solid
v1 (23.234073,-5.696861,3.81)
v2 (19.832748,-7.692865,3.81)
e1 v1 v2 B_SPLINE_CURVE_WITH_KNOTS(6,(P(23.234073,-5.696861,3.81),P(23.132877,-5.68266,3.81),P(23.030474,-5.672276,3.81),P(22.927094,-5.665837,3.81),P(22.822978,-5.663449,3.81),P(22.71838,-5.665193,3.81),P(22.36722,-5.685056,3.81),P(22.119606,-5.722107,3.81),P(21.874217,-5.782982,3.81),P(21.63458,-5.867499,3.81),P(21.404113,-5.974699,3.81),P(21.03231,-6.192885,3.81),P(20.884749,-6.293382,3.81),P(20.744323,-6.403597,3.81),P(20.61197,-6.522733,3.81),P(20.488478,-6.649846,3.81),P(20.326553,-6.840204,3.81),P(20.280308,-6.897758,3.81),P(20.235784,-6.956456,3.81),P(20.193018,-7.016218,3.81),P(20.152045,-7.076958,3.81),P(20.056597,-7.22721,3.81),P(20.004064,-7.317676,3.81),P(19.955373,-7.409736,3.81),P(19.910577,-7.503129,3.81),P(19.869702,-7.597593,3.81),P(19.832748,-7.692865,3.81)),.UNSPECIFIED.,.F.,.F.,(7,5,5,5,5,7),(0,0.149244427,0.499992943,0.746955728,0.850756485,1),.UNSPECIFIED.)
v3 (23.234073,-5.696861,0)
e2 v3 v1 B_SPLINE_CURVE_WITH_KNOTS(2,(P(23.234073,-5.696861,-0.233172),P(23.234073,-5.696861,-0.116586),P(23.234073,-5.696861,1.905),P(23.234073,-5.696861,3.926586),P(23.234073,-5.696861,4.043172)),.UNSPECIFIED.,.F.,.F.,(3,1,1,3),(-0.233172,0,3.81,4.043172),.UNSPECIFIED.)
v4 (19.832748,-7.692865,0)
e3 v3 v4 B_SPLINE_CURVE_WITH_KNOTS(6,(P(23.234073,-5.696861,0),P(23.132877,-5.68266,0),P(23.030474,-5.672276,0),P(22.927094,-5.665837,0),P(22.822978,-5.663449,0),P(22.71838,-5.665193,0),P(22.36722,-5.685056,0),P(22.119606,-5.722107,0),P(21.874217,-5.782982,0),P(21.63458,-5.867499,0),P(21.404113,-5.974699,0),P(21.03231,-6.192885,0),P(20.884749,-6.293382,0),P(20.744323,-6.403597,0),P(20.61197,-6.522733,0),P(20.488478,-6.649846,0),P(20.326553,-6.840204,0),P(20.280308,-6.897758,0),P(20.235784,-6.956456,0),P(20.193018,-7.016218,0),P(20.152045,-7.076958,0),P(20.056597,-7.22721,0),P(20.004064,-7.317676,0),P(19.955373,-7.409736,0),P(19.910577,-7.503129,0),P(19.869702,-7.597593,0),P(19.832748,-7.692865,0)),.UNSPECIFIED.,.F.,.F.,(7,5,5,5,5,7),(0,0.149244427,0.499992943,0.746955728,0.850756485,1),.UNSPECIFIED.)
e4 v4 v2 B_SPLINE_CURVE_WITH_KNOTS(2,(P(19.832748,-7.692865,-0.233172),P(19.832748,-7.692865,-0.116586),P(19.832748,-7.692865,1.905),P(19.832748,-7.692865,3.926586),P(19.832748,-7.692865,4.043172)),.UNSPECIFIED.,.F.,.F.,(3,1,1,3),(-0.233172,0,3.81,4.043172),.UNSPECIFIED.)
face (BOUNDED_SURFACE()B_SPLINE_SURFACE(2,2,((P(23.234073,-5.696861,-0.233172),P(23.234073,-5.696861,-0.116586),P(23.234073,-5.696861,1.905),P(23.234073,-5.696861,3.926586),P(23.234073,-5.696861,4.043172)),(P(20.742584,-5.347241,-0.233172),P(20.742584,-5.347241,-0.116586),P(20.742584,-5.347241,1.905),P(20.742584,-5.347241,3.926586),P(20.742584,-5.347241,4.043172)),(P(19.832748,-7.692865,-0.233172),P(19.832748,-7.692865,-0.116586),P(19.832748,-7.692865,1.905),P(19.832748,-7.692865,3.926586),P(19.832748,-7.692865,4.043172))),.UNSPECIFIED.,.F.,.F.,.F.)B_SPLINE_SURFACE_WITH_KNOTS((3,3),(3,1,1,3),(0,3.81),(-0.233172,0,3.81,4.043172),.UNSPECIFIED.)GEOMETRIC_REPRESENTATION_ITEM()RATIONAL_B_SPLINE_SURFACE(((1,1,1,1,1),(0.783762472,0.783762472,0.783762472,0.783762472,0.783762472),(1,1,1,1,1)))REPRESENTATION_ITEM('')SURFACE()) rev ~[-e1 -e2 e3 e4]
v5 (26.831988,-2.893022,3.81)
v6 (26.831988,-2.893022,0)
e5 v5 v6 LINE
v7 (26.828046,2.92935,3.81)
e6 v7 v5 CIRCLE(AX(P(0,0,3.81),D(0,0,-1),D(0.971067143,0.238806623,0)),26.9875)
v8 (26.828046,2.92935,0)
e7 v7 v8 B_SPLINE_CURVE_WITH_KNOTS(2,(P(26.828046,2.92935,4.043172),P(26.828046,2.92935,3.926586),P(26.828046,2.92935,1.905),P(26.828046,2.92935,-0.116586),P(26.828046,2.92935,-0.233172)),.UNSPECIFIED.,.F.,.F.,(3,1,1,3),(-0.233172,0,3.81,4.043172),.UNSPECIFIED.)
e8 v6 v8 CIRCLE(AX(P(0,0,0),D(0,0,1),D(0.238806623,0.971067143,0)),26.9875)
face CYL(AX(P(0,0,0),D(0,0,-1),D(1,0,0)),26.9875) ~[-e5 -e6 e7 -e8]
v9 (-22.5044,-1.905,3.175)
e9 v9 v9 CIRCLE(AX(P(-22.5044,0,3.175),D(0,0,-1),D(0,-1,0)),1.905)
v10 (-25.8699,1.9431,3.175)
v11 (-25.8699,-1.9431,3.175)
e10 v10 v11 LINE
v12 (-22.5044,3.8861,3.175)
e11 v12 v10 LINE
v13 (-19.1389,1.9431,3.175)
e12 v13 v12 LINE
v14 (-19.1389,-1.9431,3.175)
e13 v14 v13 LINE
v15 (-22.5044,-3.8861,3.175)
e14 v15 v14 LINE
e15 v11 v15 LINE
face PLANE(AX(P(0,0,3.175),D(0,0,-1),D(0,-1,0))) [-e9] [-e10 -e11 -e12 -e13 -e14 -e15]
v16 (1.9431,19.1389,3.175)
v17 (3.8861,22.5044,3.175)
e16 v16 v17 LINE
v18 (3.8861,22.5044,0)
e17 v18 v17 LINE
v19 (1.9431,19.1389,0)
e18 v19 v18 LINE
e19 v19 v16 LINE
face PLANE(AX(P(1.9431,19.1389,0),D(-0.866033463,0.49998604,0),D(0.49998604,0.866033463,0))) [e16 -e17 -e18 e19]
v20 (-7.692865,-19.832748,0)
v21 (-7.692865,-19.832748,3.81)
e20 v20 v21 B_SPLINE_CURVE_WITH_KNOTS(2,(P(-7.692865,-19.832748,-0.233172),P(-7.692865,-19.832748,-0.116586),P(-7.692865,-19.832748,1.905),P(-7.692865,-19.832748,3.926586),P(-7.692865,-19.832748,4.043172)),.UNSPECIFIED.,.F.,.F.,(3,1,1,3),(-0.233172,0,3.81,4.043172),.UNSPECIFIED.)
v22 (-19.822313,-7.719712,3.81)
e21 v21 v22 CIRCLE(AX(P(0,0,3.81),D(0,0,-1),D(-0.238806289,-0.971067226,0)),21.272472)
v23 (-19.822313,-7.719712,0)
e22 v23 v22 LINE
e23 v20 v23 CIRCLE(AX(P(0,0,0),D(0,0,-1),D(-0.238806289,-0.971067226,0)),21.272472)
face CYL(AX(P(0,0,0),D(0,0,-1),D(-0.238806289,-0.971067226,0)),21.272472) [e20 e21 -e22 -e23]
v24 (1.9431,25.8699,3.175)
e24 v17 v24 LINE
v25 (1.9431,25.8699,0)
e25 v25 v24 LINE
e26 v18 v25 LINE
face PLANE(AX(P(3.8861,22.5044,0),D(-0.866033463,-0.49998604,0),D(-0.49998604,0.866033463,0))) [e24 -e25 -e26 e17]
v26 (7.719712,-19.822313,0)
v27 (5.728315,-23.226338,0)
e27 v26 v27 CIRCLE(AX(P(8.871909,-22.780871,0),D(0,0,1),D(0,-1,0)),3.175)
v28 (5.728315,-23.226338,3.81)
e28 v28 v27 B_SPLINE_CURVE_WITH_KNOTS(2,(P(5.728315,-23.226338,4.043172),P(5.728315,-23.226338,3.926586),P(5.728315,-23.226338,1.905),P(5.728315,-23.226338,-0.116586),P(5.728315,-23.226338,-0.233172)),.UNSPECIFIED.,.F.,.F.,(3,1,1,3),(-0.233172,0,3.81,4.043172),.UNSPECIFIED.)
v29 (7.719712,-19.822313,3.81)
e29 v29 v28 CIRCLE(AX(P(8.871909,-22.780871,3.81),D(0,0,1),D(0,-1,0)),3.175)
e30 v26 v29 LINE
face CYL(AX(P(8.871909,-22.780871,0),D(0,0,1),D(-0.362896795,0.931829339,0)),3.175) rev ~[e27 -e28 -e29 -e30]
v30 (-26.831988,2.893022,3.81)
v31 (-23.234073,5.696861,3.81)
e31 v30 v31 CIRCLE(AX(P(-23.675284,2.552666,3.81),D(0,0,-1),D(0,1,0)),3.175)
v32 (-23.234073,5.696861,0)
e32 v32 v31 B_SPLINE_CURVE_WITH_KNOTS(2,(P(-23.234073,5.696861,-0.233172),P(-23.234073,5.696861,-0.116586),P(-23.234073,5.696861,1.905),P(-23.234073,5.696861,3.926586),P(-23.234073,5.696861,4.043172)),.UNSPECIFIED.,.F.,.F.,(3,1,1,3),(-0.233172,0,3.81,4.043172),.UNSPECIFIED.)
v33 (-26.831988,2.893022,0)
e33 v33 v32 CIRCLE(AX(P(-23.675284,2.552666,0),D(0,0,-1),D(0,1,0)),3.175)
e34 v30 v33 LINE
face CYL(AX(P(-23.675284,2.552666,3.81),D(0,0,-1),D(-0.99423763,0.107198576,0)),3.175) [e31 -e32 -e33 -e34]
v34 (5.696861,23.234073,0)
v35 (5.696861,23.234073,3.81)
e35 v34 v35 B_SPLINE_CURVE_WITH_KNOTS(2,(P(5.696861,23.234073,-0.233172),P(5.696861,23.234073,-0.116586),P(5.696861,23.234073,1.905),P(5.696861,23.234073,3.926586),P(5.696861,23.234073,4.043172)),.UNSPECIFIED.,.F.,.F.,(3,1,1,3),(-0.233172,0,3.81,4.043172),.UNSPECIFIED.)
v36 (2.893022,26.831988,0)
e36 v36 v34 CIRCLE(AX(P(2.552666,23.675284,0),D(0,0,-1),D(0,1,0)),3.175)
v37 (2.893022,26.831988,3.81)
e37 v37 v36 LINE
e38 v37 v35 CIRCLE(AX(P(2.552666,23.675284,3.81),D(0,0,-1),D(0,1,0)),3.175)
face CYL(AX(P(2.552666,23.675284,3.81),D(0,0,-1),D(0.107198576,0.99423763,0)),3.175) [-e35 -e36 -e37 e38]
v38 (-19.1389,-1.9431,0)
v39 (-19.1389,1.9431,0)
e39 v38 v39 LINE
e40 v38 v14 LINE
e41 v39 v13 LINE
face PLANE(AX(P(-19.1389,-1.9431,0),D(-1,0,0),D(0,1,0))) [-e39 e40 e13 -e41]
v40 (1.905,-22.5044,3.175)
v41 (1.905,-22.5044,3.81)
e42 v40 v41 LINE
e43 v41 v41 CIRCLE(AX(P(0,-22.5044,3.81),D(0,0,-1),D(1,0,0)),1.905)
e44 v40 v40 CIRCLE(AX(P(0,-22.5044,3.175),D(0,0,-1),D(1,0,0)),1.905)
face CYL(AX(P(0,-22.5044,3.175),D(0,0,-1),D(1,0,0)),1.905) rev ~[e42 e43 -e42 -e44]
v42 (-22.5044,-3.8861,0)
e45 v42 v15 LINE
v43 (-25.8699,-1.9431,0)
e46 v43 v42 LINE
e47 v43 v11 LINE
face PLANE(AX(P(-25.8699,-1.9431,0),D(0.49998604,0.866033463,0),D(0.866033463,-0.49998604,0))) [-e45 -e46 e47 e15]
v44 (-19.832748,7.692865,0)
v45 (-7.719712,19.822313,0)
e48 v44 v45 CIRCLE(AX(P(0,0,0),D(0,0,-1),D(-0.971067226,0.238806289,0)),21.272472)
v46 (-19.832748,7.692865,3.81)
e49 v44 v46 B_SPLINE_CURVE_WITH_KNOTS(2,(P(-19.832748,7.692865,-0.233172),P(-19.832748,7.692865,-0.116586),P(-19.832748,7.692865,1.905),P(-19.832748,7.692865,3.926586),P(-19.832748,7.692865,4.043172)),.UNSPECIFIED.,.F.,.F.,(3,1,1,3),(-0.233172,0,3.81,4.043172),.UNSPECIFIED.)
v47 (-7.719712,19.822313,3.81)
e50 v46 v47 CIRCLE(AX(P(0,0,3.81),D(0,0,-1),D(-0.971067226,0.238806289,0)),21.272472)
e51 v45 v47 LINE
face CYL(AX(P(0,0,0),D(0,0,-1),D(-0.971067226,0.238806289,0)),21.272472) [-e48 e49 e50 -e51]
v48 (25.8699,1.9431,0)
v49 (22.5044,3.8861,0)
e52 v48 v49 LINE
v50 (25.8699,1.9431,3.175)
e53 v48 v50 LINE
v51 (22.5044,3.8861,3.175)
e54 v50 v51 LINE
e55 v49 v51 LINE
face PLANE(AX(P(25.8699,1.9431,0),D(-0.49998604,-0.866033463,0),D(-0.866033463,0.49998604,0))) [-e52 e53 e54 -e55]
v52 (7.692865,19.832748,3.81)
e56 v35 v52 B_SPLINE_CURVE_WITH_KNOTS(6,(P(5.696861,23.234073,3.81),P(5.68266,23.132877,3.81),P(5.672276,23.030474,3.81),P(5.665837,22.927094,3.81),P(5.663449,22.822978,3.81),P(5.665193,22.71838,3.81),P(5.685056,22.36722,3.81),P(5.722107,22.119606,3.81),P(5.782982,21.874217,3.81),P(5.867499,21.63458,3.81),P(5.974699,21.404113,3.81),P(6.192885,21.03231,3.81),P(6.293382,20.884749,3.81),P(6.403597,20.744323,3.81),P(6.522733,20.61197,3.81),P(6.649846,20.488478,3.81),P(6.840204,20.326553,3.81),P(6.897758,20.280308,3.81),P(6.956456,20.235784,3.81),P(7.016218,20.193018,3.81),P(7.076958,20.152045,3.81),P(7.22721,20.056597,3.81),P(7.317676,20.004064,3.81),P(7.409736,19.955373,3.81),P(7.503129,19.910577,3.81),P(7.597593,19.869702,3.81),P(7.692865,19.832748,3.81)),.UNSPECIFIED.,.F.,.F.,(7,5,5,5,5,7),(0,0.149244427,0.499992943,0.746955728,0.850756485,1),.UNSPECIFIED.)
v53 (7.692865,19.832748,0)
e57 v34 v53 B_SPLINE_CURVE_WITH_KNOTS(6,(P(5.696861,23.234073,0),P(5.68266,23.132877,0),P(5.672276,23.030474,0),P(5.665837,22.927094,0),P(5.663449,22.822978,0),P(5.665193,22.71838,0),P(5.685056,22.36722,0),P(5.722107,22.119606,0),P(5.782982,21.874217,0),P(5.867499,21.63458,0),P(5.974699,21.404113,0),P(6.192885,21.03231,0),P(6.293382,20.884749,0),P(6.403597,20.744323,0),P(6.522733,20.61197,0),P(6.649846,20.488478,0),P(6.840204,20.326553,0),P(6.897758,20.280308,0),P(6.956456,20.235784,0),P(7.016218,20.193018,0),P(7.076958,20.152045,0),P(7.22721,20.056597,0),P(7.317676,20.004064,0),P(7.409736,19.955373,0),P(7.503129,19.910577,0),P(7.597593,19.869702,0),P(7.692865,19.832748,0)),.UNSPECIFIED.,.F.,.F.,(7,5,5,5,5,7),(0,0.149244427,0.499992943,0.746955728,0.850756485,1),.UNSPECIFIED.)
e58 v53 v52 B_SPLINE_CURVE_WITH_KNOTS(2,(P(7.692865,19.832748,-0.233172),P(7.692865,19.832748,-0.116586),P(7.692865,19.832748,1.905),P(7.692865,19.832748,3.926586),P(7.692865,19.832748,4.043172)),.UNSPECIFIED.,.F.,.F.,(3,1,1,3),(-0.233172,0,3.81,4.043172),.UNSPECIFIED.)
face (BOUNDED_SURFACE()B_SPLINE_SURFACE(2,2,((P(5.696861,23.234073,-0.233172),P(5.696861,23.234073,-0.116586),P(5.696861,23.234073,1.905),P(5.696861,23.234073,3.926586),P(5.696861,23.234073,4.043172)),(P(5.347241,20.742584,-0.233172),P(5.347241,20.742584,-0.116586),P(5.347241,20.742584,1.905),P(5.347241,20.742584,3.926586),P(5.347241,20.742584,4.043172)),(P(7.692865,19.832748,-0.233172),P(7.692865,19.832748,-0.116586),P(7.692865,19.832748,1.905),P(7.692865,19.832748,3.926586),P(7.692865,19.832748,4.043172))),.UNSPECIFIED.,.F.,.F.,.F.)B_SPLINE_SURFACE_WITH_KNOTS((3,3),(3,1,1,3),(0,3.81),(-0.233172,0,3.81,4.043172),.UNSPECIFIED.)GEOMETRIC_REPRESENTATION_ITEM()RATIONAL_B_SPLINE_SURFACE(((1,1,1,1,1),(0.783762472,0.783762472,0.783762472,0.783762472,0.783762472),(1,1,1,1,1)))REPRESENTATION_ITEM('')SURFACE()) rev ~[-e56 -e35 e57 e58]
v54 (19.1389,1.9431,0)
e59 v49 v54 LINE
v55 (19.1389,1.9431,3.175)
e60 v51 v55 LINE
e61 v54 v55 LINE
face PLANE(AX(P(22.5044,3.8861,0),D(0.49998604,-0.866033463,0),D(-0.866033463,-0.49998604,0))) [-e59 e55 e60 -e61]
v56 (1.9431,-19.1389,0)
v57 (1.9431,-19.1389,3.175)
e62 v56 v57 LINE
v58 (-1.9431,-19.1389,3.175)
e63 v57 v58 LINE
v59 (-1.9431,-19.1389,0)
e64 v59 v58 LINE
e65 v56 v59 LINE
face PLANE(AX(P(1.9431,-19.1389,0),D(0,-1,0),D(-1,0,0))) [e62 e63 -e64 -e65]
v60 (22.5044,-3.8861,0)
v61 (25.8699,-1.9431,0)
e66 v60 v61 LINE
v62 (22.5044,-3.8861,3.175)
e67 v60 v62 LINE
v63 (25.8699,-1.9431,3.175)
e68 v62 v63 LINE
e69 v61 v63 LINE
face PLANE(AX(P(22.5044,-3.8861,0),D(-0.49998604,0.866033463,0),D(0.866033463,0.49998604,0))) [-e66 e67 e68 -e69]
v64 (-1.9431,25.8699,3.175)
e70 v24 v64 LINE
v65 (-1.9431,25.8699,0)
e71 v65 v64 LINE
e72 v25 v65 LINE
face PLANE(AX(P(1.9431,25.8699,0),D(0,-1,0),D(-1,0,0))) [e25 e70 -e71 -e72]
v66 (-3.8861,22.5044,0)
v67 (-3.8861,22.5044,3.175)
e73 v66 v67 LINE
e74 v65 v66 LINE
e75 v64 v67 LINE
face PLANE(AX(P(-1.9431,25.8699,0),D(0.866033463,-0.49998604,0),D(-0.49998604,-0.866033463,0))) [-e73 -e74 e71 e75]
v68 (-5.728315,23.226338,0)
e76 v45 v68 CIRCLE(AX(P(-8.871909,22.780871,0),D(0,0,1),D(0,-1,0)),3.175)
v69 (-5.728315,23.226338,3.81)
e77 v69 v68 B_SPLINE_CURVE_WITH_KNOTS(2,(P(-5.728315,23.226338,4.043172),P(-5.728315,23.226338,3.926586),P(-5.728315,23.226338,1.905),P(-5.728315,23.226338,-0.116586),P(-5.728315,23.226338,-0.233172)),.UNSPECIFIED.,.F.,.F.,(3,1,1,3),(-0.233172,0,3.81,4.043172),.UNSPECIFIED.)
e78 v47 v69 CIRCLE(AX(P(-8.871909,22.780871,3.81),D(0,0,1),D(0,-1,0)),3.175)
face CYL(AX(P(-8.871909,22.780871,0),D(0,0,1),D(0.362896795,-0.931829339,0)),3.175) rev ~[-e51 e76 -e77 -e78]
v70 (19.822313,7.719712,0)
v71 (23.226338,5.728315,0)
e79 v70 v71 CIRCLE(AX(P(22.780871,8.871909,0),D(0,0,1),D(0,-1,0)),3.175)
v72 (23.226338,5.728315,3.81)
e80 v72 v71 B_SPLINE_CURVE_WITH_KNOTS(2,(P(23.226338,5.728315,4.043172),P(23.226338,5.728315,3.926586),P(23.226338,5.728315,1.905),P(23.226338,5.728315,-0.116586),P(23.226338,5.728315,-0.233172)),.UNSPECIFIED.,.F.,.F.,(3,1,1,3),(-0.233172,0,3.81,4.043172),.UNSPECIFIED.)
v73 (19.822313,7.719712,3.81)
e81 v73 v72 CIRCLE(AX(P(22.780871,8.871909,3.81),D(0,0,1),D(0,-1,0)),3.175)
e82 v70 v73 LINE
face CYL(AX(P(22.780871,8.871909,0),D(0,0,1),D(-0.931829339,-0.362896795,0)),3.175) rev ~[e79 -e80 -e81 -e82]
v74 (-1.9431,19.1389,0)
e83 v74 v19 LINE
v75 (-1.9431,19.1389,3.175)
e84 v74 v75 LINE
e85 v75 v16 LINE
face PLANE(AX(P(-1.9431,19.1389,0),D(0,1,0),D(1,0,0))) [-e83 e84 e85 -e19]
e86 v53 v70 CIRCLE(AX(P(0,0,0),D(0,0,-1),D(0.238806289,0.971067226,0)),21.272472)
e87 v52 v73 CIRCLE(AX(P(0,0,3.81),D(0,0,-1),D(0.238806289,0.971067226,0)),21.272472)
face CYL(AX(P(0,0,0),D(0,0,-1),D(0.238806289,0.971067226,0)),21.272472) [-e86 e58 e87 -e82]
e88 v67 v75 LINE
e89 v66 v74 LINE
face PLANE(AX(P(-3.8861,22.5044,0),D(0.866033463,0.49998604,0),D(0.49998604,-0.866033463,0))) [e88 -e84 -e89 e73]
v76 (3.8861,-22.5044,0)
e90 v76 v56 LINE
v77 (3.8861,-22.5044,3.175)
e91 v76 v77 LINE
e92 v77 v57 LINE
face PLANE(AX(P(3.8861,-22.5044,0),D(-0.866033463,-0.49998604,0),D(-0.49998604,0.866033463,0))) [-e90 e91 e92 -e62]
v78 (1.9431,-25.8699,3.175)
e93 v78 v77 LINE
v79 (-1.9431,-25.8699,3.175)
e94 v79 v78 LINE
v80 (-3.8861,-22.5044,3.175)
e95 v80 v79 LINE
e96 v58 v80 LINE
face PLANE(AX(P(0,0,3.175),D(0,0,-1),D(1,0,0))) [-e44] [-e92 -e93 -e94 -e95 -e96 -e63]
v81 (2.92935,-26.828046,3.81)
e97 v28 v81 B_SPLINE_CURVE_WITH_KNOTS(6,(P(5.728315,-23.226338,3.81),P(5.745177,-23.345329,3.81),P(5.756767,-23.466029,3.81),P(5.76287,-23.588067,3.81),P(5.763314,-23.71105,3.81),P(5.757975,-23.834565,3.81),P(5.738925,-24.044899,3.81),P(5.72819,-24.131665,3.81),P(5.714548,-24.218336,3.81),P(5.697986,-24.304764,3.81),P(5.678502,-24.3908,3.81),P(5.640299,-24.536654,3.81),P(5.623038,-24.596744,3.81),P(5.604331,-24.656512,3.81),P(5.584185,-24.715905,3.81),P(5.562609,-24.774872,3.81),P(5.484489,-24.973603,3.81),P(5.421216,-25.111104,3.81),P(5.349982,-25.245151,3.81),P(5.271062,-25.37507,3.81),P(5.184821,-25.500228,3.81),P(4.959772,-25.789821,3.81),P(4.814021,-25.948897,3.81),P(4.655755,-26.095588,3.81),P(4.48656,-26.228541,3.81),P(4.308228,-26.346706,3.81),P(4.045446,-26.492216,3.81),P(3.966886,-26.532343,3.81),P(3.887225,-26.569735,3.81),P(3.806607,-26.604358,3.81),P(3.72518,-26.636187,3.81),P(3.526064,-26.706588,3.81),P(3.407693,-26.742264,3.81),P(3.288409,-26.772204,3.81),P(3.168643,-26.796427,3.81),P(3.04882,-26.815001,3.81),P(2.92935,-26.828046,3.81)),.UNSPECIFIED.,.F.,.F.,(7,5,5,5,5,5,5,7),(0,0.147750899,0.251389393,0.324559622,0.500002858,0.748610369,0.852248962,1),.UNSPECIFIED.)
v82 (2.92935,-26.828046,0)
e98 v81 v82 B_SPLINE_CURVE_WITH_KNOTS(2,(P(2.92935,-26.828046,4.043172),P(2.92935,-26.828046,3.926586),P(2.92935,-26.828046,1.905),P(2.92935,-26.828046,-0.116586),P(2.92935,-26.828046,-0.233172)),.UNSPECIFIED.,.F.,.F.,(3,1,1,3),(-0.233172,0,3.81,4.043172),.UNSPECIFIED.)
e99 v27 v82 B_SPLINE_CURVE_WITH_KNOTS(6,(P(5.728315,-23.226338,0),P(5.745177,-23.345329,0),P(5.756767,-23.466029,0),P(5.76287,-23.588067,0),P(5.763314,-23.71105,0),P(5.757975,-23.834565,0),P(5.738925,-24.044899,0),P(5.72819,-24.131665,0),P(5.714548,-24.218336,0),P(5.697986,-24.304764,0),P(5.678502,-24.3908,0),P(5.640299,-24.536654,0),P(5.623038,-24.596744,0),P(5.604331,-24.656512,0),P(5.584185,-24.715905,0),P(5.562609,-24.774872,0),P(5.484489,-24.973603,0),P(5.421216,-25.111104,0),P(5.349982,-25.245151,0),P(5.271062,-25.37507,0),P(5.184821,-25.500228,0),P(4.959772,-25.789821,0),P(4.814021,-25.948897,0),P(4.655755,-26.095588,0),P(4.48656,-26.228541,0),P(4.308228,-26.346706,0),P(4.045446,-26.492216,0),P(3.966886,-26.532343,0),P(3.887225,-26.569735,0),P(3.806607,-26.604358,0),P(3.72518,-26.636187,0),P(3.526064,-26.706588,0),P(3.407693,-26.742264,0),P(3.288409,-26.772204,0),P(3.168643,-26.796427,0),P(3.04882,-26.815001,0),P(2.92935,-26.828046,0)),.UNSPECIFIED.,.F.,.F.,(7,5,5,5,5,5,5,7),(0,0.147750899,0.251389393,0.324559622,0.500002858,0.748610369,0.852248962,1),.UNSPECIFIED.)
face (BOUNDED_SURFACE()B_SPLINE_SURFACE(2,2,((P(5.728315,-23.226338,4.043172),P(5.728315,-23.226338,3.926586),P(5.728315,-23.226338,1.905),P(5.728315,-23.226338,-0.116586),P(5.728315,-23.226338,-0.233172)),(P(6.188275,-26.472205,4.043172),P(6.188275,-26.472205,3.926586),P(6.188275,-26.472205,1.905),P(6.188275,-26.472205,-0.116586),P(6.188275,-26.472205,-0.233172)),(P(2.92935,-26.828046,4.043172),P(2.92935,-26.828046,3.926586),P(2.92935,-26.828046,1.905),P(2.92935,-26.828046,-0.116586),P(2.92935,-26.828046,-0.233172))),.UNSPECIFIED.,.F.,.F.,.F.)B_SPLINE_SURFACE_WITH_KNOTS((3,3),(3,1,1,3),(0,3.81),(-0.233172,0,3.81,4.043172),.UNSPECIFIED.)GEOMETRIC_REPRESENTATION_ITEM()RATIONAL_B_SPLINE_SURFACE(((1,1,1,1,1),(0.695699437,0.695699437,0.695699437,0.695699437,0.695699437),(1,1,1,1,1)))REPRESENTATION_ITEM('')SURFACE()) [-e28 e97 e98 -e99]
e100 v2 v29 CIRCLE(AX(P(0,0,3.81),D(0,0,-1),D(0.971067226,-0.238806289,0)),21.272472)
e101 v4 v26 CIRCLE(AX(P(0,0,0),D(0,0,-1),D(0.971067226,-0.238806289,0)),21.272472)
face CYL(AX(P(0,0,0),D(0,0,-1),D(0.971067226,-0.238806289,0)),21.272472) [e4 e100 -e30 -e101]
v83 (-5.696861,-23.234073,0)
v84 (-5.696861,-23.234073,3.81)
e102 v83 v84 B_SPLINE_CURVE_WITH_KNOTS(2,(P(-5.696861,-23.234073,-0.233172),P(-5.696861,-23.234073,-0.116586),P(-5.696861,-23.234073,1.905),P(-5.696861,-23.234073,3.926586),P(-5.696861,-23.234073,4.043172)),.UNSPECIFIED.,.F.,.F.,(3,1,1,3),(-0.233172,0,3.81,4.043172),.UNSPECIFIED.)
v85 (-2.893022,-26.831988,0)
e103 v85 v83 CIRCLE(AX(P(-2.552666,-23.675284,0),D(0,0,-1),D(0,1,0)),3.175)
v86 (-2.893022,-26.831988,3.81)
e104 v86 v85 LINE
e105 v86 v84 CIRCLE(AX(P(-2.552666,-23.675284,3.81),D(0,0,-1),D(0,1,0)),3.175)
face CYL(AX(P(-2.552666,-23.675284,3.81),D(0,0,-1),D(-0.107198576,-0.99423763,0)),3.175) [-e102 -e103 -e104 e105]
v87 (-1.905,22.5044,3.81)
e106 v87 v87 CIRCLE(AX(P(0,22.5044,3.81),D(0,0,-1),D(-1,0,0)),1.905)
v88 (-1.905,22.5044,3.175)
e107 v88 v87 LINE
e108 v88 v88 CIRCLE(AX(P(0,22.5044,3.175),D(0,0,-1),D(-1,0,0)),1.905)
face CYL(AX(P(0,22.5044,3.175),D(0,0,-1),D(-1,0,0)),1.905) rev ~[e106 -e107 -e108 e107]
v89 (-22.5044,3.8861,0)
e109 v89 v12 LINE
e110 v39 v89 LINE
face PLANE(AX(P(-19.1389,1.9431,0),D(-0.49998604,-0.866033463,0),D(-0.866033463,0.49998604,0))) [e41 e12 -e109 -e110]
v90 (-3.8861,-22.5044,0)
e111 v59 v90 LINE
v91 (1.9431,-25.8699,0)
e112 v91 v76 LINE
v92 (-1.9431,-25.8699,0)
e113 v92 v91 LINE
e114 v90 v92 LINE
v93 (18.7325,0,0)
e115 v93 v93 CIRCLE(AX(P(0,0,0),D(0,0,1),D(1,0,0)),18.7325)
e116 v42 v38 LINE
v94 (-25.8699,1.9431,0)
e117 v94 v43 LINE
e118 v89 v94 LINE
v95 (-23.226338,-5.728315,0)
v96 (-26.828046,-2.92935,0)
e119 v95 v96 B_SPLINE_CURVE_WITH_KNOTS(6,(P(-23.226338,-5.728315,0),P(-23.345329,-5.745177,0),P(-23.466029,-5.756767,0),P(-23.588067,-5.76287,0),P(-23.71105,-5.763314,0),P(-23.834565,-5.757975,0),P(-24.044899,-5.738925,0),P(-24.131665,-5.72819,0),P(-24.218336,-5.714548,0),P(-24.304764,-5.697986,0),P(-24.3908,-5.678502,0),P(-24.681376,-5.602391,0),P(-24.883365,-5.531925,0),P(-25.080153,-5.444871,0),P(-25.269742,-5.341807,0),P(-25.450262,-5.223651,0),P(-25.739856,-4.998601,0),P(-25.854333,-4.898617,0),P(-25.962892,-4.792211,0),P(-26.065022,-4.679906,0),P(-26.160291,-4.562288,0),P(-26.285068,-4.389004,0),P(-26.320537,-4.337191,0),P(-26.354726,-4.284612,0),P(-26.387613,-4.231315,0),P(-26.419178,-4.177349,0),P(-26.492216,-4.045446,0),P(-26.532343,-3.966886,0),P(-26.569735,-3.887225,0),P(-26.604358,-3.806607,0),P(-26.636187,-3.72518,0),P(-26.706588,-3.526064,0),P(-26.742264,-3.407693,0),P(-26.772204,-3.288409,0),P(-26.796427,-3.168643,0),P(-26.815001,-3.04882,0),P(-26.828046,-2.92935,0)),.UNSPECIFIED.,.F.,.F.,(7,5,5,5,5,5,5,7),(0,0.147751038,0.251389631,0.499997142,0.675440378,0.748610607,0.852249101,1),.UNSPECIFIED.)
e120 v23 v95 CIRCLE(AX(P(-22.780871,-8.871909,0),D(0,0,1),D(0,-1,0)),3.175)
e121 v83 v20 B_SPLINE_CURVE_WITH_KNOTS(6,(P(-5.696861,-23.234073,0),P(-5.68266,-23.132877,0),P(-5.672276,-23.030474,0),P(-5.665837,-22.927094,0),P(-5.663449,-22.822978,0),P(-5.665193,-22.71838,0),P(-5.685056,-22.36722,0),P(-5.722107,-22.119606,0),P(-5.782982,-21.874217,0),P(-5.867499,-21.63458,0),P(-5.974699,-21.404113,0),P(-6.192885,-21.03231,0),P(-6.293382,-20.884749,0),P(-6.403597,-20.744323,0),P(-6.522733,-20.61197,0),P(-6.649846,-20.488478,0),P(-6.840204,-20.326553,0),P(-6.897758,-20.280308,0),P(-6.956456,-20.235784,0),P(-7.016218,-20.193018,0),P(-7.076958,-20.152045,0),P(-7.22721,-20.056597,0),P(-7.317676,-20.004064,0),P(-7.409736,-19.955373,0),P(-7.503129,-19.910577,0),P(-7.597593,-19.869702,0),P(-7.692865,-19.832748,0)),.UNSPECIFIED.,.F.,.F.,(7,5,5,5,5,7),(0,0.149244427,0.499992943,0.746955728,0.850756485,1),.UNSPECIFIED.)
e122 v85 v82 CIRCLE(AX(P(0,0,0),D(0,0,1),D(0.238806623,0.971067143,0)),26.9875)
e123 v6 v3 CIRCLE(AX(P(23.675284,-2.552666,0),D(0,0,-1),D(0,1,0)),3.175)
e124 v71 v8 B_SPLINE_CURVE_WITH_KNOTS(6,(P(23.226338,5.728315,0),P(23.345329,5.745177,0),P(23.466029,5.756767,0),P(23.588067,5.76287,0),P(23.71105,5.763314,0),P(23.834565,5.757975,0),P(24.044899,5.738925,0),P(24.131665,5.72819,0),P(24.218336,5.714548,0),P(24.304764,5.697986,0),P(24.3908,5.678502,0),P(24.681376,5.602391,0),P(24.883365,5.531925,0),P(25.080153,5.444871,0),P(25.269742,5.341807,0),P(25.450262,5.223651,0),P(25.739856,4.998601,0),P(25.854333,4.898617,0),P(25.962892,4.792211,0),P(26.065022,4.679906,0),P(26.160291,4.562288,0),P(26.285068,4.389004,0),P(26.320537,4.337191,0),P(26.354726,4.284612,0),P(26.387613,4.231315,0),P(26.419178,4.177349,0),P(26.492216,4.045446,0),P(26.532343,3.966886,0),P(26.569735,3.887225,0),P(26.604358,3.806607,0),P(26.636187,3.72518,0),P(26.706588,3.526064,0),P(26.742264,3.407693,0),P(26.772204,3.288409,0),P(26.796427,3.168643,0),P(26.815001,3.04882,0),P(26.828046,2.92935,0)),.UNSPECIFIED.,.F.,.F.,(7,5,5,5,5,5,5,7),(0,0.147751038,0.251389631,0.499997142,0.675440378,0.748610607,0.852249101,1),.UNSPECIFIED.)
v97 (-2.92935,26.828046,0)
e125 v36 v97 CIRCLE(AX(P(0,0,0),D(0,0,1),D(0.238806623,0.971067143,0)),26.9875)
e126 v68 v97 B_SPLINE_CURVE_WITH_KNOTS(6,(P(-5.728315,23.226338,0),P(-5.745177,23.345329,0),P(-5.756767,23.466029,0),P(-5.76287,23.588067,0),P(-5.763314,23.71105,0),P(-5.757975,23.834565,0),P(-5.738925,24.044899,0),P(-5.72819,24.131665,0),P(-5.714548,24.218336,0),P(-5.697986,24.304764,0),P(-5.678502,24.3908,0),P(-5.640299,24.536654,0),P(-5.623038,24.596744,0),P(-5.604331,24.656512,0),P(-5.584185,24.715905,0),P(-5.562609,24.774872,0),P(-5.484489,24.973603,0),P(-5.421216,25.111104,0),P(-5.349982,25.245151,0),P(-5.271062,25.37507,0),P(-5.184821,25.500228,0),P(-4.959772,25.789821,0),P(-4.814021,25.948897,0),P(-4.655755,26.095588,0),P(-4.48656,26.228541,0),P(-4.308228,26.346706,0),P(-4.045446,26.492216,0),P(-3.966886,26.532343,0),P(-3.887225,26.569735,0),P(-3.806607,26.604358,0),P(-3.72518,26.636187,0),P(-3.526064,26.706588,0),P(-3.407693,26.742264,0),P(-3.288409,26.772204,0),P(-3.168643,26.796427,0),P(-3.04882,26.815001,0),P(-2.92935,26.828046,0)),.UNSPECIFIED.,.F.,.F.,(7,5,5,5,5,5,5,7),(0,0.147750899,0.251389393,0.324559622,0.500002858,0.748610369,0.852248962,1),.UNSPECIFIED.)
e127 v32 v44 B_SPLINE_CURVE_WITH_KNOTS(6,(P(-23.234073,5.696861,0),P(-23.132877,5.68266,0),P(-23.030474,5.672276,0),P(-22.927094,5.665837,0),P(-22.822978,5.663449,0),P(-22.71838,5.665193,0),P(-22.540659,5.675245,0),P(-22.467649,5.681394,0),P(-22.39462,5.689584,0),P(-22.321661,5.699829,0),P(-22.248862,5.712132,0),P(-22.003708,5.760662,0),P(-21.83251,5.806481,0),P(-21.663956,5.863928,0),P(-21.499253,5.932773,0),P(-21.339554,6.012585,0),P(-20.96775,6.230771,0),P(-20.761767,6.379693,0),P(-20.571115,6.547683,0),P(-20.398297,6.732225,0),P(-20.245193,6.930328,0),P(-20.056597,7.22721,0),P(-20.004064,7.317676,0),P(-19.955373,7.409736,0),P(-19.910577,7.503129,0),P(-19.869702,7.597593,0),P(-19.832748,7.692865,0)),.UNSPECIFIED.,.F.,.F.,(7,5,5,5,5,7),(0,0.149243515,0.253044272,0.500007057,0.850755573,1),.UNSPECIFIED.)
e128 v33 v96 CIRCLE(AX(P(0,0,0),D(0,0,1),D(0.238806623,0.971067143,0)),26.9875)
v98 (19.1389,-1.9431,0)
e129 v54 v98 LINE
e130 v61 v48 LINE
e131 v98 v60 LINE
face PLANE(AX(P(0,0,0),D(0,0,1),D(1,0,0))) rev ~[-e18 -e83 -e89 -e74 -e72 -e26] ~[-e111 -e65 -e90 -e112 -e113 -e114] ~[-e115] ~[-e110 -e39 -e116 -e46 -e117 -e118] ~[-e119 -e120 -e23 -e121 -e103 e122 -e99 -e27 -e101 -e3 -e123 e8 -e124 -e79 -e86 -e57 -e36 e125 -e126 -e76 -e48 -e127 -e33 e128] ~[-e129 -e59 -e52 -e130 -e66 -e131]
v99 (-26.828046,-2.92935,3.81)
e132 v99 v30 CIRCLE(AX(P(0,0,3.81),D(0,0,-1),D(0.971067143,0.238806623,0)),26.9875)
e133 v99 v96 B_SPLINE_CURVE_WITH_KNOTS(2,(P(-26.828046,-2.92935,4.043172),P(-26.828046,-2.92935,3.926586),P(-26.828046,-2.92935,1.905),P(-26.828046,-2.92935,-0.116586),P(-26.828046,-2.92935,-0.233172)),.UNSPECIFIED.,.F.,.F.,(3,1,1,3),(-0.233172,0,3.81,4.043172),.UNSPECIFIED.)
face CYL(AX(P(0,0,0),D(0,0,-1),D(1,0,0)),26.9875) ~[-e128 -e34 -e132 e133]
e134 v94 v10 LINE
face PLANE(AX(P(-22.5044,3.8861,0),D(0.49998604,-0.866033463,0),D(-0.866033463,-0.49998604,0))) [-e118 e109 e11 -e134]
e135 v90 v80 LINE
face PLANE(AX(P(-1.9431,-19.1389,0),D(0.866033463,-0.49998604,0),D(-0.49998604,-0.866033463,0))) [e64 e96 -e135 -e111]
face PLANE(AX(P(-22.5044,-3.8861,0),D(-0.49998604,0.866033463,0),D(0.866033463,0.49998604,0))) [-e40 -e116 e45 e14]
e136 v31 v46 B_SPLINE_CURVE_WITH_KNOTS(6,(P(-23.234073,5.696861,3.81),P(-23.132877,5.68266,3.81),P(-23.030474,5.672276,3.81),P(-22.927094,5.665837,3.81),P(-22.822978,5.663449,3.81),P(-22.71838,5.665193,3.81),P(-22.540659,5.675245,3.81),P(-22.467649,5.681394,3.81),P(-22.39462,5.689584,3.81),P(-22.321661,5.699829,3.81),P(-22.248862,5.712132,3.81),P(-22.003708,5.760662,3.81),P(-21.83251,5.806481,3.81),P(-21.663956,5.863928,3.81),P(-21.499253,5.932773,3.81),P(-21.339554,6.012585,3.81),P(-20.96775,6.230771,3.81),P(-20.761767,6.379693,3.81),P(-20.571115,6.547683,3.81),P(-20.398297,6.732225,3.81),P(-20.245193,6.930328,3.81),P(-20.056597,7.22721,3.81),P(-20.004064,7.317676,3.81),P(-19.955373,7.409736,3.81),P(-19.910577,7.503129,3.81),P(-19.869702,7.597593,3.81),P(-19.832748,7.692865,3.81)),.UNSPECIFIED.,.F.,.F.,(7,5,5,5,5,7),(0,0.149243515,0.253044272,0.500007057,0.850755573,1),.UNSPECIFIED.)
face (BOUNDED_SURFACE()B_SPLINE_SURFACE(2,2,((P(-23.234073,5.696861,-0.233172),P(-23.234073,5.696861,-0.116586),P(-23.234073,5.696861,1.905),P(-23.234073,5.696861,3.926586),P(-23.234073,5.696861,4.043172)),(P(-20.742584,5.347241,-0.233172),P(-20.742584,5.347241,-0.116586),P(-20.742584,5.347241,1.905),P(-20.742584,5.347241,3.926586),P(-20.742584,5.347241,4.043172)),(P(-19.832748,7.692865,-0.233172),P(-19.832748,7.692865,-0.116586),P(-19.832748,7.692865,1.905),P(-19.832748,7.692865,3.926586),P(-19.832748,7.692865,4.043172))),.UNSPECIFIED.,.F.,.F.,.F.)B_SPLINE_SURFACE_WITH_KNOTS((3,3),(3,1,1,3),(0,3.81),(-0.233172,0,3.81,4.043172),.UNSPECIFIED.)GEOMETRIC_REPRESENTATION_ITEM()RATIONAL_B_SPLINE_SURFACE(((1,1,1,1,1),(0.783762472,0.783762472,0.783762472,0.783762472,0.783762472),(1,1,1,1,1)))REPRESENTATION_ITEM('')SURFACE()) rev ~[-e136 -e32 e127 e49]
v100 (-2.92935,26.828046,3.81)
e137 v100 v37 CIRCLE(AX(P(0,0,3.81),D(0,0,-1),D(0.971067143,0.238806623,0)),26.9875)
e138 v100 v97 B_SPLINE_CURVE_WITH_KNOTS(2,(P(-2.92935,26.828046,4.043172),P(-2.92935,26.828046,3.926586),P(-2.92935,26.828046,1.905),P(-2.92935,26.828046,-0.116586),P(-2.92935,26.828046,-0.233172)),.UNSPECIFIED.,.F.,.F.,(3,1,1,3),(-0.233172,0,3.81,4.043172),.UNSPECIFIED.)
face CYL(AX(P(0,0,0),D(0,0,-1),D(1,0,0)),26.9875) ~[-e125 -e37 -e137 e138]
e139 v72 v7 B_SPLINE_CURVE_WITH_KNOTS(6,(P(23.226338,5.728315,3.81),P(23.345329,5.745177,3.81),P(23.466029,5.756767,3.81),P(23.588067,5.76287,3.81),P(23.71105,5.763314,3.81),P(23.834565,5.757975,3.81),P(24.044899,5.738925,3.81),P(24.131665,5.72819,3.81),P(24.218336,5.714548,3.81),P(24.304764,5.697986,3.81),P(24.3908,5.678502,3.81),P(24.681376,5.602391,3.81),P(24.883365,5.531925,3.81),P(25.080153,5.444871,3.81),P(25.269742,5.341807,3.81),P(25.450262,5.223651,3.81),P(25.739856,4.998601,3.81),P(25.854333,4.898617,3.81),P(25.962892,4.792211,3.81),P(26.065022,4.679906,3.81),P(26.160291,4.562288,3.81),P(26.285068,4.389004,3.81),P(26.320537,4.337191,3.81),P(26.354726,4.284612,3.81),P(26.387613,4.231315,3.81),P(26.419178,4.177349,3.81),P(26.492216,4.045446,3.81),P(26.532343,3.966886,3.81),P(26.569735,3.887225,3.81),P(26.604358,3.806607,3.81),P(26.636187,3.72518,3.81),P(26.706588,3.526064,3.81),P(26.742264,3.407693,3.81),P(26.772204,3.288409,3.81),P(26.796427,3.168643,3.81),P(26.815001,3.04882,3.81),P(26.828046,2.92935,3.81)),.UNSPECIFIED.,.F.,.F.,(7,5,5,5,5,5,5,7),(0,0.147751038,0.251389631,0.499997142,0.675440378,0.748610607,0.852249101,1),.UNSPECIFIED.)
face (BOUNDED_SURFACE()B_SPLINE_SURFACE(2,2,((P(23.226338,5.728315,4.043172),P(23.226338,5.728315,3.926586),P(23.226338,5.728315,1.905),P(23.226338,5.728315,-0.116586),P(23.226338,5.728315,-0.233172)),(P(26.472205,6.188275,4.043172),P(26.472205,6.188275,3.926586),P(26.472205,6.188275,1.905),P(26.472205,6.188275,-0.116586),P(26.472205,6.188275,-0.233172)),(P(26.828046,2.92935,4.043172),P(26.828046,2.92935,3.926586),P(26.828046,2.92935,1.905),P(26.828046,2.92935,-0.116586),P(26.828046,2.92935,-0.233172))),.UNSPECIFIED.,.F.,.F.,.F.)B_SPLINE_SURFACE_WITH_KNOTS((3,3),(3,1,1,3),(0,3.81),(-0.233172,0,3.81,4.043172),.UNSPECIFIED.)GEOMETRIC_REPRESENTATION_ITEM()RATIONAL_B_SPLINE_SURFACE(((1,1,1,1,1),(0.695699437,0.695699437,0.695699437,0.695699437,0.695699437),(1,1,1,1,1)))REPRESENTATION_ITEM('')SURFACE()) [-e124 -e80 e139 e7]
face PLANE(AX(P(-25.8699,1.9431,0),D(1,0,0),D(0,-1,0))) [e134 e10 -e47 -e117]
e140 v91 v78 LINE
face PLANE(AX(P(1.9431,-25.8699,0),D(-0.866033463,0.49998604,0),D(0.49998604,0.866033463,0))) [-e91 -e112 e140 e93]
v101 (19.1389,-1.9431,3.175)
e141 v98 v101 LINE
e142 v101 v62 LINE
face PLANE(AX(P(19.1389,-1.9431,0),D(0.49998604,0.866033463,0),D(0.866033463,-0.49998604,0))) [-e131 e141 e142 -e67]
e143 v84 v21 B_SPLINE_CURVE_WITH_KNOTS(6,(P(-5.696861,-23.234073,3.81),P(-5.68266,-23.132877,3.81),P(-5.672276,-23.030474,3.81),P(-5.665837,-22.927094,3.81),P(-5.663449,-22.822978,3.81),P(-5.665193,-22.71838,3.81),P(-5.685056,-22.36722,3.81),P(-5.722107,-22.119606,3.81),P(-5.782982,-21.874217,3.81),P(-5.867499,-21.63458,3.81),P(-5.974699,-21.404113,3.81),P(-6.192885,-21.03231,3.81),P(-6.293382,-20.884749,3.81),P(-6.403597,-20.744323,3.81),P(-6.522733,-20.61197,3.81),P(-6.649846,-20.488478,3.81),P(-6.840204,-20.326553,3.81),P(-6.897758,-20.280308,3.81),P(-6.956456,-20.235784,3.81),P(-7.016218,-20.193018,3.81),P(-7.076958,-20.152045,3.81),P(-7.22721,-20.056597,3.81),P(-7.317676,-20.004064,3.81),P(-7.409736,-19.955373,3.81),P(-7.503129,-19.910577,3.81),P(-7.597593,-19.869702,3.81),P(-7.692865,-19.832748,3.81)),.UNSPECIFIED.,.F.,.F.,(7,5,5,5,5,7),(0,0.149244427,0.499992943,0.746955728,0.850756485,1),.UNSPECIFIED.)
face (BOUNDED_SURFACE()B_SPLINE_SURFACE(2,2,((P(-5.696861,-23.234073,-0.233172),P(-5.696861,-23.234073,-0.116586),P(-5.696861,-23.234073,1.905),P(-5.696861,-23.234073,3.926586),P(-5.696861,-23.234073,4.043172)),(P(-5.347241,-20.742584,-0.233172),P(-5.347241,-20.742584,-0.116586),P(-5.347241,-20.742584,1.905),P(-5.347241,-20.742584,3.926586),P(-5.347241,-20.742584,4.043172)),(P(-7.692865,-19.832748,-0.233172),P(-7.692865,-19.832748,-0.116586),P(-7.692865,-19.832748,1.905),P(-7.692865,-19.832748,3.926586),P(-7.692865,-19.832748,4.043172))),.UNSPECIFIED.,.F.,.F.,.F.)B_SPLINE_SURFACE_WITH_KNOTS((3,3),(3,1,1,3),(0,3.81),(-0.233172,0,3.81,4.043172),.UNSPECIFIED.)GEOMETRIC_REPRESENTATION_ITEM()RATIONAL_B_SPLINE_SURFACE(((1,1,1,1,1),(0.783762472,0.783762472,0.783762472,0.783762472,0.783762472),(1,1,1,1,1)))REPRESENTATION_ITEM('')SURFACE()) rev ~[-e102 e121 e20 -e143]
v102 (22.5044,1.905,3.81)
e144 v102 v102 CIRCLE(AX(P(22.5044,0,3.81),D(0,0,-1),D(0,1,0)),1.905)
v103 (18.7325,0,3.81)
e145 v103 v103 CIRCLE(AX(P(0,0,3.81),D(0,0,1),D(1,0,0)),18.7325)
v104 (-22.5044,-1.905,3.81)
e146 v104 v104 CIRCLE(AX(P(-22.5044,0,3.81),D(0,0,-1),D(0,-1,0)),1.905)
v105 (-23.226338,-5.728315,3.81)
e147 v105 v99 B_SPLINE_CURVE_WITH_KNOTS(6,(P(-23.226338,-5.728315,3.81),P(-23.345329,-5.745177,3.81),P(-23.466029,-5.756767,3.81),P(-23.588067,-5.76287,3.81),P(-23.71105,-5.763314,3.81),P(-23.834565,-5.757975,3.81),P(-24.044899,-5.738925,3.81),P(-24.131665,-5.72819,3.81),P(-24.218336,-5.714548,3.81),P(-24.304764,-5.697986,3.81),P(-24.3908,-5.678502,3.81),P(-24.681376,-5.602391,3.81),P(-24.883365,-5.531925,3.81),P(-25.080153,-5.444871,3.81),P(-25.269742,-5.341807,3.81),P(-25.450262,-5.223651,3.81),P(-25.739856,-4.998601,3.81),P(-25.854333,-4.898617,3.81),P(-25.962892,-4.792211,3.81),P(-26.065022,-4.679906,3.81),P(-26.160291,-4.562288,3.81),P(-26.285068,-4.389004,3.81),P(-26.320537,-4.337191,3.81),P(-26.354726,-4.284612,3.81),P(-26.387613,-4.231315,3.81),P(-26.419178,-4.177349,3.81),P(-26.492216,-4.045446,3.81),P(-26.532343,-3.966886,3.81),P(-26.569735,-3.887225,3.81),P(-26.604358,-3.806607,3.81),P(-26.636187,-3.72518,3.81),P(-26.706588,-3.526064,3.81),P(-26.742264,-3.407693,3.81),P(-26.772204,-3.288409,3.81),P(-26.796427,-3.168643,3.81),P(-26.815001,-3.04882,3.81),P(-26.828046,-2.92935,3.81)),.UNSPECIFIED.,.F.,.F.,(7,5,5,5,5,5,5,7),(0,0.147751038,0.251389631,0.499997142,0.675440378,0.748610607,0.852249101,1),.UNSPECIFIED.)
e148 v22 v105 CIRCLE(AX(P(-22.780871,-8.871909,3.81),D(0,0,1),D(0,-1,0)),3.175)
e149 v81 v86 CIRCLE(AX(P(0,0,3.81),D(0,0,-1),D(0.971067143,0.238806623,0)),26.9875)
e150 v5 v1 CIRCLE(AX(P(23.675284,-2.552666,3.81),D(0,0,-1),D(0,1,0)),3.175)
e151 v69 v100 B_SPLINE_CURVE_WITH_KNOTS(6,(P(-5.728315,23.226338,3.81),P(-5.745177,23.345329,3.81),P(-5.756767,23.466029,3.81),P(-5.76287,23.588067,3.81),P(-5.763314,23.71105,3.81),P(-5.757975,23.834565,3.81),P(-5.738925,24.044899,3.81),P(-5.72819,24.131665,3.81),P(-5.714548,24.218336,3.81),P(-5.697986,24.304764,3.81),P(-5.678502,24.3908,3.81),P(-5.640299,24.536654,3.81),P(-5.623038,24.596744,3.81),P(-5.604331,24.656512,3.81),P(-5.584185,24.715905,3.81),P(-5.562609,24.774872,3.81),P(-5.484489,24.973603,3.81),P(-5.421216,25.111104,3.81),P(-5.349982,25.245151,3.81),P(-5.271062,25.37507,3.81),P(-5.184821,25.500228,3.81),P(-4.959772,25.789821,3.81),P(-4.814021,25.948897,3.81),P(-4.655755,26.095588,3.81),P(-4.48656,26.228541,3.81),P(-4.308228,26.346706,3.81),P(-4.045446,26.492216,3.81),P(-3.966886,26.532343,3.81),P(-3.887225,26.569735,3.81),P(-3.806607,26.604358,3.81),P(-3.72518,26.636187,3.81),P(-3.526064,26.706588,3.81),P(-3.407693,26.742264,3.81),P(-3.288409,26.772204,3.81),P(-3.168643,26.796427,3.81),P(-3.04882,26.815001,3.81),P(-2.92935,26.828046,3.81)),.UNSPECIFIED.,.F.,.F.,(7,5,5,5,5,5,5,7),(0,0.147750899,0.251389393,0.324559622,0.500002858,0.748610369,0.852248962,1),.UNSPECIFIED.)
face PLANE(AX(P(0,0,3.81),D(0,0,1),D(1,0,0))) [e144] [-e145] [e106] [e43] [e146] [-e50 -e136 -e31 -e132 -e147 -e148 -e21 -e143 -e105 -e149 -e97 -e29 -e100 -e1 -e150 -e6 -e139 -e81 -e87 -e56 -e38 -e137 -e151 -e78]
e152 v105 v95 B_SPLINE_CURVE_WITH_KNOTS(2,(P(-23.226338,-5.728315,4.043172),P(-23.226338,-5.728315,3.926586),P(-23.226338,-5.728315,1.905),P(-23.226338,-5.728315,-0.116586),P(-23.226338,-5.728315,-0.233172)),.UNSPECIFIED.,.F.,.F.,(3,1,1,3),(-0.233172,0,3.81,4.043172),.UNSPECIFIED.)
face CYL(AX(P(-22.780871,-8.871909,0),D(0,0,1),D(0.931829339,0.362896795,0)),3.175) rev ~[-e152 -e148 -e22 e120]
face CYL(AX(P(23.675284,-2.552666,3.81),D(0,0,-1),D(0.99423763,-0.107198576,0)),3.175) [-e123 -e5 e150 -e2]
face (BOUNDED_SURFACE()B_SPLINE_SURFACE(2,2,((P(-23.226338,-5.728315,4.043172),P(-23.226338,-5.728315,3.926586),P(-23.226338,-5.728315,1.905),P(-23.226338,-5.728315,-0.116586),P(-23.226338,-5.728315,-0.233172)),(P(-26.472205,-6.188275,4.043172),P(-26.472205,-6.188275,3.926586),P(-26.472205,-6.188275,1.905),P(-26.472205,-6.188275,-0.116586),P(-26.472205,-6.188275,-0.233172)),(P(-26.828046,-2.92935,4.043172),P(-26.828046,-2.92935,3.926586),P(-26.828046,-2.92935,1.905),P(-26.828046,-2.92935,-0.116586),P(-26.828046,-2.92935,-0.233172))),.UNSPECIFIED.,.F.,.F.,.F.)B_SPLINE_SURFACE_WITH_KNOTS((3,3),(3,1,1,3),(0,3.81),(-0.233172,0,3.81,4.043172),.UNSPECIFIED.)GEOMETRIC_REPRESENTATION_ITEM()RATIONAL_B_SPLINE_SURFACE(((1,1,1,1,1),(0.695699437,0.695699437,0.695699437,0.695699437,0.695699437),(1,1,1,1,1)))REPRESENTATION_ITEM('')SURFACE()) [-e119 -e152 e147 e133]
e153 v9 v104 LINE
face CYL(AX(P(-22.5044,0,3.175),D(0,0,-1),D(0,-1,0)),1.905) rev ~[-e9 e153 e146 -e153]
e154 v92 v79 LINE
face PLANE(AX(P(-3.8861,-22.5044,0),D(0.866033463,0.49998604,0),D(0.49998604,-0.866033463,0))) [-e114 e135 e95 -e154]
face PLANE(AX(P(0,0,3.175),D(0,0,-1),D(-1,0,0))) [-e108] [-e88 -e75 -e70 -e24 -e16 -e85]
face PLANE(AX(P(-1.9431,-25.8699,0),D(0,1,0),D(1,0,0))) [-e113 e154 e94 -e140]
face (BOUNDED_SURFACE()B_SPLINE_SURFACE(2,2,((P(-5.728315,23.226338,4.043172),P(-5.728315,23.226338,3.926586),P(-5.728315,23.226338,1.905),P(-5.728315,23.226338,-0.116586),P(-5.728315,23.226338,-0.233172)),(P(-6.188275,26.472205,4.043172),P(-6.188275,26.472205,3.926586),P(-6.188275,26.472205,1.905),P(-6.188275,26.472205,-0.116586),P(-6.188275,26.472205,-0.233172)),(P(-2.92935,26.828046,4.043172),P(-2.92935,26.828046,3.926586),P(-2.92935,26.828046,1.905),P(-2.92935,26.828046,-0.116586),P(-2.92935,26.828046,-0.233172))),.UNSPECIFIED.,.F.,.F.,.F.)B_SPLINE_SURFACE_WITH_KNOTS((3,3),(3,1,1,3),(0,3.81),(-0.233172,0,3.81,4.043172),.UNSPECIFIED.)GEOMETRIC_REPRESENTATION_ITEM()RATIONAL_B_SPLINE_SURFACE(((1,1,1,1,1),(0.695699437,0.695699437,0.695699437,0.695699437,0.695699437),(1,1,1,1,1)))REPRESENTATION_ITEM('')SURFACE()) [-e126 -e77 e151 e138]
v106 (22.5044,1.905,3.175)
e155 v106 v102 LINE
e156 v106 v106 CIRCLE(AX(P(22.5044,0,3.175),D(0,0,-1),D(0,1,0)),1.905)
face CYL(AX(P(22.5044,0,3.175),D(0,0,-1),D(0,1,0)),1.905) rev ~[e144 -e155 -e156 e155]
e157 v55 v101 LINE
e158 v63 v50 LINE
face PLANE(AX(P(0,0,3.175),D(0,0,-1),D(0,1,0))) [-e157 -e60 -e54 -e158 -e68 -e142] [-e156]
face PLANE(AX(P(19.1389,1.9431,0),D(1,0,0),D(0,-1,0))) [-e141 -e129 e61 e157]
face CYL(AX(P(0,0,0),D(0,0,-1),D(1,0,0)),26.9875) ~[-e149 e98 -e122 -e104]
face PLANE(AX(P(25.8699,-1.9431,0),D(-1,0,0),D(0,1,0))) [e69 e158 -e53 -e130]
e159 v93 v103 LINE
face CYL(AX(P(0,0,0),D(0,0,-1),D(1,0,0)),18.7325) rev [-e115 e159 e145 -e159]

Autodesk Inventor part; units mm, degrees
ref_plane "YZ Plane" through (0, 0, 0) normal (1, 0, 0) x (0, 1, 0)
ref_plane "XZ Plane" through (0, 0, 0) normal (0, 1, 0) x (-1, 0, 0)
ref_plane "XY Plane" through (0, 0, 0) normal (0, 0, 1) x (1, 0, 0)
sketch "Sketch1" plane through (0, 0, 0) normal (0, 0, 1) x (1, 0, 0)
  circle A0 centre (0, 0) radius 18.7325
  circle A1 centre (0, 0) radius 26.9875
  dimension "d0" = 37.465
  dimension "d1" = 53.975
extrude "Extrusion1" add sketch "Sketch1" along normal blind 3.81
sketch "Sketch2" plane through (0, 0, 0) normal (0, 0, -1) x (-1, 0, 0)
  line L0 (-1.9431, 19.1389) -> (-3.8861, 22.5044)
  line L1 (-3.8861, 22.5044) -> (-1.9431, 25.8699)
  line L2 (-1.9431, 25.8699) -> (1.9431, 25.8699)
  line L3 (1.9431, 25.8699) -> (3.8861, 22.5044)
  line L4 (3.8861, 22.5044) -> (1.9431, 19.1389)
  line L5 (1.9431, 19.1389) -> (-1.9431, 19.1389)
  point P0 (0, 0)
  point P1 (0, 22.5044)
  dimension "d4" = 22.5044
  dimension "d5" = 6.731
extrude "Extrusion2" cut sketch "Sketch2" against normal blind 3.175
sketch "Sketch3" plane through (0, 0, 3.175) normal (0, 0, -1) x (-1, 0, 0)
  line L0 (-1.9431, 19.1389) -> (-3.8861, 22.5044) construction
  line L1 (1.9431, 19.1389) -> (-1.9431, 19.1389) construction
  line L2 (3.8861, 22.5044) -> (1.9431, 19.1389) construction
  line L3 (1.9431, 25.8699) -> (3.8861, 22.5044) construction
  line L4 (-1.9431, 25.8699) -> (1.9431, 25.8699) construction
  line L5 (-3.8861, 22.5044) -> (-1.9431, 25.8699) construction
  circle A0 centre (0, 22.5044) radius 1.905
  point P0 (0, 0)
  dimension "d8" = 3.81
extrude "Extrusion3" cut sketch "Sketch3" against normal blind 3.175
pattern_circular "Circular Pattern1" count 4 over 360 about axis through (0, 0, 0) along (0, 0, 1) of "Extrusion3", "Extrusion2"
sketch "Sketch4" plane through (0, 0, 0) normal (0, 0, -1) x (-1, 0, 0)
  arc A0 (-5.08, 20.657) -> (-20.657, 5.08) centre (0, 0) ccw
  line L0 (-5.08, 20.657) -> (-6.4448, 26.2067)
  line L1 (-20.657, 5.08) -> (-26.2067, 6.4448)
  arc A1 (-6.4448, 26.2067) -> (-26.2067, 6.4448) centre (0, 0) ccw
  circle A2 centre (0, 0) radius 26.9875 construction
  dimension "d14" = 42.545
  dimension "d15" = 5.08
  dimension "d16" = 5.08
extrude "Extrusion4" cut sketch "Sketch4" against normal through all
fillet "Fillet1" radius 3.175 4 edges at (6.4448, 26.2067, 1.905) (5.08, 20.657, 1.905) (20.657, 5.08, 1.905) (26.2067, 6.4448, 1.905)
pattern_circular "Circular Pattern2" count 4 over 360 about axis through (0, 0, 0) along (0, 0, 1) of "Extrusion4", "Fillet1"
properties part number "MotorMountNutHolder" material "ABS Plastic"
